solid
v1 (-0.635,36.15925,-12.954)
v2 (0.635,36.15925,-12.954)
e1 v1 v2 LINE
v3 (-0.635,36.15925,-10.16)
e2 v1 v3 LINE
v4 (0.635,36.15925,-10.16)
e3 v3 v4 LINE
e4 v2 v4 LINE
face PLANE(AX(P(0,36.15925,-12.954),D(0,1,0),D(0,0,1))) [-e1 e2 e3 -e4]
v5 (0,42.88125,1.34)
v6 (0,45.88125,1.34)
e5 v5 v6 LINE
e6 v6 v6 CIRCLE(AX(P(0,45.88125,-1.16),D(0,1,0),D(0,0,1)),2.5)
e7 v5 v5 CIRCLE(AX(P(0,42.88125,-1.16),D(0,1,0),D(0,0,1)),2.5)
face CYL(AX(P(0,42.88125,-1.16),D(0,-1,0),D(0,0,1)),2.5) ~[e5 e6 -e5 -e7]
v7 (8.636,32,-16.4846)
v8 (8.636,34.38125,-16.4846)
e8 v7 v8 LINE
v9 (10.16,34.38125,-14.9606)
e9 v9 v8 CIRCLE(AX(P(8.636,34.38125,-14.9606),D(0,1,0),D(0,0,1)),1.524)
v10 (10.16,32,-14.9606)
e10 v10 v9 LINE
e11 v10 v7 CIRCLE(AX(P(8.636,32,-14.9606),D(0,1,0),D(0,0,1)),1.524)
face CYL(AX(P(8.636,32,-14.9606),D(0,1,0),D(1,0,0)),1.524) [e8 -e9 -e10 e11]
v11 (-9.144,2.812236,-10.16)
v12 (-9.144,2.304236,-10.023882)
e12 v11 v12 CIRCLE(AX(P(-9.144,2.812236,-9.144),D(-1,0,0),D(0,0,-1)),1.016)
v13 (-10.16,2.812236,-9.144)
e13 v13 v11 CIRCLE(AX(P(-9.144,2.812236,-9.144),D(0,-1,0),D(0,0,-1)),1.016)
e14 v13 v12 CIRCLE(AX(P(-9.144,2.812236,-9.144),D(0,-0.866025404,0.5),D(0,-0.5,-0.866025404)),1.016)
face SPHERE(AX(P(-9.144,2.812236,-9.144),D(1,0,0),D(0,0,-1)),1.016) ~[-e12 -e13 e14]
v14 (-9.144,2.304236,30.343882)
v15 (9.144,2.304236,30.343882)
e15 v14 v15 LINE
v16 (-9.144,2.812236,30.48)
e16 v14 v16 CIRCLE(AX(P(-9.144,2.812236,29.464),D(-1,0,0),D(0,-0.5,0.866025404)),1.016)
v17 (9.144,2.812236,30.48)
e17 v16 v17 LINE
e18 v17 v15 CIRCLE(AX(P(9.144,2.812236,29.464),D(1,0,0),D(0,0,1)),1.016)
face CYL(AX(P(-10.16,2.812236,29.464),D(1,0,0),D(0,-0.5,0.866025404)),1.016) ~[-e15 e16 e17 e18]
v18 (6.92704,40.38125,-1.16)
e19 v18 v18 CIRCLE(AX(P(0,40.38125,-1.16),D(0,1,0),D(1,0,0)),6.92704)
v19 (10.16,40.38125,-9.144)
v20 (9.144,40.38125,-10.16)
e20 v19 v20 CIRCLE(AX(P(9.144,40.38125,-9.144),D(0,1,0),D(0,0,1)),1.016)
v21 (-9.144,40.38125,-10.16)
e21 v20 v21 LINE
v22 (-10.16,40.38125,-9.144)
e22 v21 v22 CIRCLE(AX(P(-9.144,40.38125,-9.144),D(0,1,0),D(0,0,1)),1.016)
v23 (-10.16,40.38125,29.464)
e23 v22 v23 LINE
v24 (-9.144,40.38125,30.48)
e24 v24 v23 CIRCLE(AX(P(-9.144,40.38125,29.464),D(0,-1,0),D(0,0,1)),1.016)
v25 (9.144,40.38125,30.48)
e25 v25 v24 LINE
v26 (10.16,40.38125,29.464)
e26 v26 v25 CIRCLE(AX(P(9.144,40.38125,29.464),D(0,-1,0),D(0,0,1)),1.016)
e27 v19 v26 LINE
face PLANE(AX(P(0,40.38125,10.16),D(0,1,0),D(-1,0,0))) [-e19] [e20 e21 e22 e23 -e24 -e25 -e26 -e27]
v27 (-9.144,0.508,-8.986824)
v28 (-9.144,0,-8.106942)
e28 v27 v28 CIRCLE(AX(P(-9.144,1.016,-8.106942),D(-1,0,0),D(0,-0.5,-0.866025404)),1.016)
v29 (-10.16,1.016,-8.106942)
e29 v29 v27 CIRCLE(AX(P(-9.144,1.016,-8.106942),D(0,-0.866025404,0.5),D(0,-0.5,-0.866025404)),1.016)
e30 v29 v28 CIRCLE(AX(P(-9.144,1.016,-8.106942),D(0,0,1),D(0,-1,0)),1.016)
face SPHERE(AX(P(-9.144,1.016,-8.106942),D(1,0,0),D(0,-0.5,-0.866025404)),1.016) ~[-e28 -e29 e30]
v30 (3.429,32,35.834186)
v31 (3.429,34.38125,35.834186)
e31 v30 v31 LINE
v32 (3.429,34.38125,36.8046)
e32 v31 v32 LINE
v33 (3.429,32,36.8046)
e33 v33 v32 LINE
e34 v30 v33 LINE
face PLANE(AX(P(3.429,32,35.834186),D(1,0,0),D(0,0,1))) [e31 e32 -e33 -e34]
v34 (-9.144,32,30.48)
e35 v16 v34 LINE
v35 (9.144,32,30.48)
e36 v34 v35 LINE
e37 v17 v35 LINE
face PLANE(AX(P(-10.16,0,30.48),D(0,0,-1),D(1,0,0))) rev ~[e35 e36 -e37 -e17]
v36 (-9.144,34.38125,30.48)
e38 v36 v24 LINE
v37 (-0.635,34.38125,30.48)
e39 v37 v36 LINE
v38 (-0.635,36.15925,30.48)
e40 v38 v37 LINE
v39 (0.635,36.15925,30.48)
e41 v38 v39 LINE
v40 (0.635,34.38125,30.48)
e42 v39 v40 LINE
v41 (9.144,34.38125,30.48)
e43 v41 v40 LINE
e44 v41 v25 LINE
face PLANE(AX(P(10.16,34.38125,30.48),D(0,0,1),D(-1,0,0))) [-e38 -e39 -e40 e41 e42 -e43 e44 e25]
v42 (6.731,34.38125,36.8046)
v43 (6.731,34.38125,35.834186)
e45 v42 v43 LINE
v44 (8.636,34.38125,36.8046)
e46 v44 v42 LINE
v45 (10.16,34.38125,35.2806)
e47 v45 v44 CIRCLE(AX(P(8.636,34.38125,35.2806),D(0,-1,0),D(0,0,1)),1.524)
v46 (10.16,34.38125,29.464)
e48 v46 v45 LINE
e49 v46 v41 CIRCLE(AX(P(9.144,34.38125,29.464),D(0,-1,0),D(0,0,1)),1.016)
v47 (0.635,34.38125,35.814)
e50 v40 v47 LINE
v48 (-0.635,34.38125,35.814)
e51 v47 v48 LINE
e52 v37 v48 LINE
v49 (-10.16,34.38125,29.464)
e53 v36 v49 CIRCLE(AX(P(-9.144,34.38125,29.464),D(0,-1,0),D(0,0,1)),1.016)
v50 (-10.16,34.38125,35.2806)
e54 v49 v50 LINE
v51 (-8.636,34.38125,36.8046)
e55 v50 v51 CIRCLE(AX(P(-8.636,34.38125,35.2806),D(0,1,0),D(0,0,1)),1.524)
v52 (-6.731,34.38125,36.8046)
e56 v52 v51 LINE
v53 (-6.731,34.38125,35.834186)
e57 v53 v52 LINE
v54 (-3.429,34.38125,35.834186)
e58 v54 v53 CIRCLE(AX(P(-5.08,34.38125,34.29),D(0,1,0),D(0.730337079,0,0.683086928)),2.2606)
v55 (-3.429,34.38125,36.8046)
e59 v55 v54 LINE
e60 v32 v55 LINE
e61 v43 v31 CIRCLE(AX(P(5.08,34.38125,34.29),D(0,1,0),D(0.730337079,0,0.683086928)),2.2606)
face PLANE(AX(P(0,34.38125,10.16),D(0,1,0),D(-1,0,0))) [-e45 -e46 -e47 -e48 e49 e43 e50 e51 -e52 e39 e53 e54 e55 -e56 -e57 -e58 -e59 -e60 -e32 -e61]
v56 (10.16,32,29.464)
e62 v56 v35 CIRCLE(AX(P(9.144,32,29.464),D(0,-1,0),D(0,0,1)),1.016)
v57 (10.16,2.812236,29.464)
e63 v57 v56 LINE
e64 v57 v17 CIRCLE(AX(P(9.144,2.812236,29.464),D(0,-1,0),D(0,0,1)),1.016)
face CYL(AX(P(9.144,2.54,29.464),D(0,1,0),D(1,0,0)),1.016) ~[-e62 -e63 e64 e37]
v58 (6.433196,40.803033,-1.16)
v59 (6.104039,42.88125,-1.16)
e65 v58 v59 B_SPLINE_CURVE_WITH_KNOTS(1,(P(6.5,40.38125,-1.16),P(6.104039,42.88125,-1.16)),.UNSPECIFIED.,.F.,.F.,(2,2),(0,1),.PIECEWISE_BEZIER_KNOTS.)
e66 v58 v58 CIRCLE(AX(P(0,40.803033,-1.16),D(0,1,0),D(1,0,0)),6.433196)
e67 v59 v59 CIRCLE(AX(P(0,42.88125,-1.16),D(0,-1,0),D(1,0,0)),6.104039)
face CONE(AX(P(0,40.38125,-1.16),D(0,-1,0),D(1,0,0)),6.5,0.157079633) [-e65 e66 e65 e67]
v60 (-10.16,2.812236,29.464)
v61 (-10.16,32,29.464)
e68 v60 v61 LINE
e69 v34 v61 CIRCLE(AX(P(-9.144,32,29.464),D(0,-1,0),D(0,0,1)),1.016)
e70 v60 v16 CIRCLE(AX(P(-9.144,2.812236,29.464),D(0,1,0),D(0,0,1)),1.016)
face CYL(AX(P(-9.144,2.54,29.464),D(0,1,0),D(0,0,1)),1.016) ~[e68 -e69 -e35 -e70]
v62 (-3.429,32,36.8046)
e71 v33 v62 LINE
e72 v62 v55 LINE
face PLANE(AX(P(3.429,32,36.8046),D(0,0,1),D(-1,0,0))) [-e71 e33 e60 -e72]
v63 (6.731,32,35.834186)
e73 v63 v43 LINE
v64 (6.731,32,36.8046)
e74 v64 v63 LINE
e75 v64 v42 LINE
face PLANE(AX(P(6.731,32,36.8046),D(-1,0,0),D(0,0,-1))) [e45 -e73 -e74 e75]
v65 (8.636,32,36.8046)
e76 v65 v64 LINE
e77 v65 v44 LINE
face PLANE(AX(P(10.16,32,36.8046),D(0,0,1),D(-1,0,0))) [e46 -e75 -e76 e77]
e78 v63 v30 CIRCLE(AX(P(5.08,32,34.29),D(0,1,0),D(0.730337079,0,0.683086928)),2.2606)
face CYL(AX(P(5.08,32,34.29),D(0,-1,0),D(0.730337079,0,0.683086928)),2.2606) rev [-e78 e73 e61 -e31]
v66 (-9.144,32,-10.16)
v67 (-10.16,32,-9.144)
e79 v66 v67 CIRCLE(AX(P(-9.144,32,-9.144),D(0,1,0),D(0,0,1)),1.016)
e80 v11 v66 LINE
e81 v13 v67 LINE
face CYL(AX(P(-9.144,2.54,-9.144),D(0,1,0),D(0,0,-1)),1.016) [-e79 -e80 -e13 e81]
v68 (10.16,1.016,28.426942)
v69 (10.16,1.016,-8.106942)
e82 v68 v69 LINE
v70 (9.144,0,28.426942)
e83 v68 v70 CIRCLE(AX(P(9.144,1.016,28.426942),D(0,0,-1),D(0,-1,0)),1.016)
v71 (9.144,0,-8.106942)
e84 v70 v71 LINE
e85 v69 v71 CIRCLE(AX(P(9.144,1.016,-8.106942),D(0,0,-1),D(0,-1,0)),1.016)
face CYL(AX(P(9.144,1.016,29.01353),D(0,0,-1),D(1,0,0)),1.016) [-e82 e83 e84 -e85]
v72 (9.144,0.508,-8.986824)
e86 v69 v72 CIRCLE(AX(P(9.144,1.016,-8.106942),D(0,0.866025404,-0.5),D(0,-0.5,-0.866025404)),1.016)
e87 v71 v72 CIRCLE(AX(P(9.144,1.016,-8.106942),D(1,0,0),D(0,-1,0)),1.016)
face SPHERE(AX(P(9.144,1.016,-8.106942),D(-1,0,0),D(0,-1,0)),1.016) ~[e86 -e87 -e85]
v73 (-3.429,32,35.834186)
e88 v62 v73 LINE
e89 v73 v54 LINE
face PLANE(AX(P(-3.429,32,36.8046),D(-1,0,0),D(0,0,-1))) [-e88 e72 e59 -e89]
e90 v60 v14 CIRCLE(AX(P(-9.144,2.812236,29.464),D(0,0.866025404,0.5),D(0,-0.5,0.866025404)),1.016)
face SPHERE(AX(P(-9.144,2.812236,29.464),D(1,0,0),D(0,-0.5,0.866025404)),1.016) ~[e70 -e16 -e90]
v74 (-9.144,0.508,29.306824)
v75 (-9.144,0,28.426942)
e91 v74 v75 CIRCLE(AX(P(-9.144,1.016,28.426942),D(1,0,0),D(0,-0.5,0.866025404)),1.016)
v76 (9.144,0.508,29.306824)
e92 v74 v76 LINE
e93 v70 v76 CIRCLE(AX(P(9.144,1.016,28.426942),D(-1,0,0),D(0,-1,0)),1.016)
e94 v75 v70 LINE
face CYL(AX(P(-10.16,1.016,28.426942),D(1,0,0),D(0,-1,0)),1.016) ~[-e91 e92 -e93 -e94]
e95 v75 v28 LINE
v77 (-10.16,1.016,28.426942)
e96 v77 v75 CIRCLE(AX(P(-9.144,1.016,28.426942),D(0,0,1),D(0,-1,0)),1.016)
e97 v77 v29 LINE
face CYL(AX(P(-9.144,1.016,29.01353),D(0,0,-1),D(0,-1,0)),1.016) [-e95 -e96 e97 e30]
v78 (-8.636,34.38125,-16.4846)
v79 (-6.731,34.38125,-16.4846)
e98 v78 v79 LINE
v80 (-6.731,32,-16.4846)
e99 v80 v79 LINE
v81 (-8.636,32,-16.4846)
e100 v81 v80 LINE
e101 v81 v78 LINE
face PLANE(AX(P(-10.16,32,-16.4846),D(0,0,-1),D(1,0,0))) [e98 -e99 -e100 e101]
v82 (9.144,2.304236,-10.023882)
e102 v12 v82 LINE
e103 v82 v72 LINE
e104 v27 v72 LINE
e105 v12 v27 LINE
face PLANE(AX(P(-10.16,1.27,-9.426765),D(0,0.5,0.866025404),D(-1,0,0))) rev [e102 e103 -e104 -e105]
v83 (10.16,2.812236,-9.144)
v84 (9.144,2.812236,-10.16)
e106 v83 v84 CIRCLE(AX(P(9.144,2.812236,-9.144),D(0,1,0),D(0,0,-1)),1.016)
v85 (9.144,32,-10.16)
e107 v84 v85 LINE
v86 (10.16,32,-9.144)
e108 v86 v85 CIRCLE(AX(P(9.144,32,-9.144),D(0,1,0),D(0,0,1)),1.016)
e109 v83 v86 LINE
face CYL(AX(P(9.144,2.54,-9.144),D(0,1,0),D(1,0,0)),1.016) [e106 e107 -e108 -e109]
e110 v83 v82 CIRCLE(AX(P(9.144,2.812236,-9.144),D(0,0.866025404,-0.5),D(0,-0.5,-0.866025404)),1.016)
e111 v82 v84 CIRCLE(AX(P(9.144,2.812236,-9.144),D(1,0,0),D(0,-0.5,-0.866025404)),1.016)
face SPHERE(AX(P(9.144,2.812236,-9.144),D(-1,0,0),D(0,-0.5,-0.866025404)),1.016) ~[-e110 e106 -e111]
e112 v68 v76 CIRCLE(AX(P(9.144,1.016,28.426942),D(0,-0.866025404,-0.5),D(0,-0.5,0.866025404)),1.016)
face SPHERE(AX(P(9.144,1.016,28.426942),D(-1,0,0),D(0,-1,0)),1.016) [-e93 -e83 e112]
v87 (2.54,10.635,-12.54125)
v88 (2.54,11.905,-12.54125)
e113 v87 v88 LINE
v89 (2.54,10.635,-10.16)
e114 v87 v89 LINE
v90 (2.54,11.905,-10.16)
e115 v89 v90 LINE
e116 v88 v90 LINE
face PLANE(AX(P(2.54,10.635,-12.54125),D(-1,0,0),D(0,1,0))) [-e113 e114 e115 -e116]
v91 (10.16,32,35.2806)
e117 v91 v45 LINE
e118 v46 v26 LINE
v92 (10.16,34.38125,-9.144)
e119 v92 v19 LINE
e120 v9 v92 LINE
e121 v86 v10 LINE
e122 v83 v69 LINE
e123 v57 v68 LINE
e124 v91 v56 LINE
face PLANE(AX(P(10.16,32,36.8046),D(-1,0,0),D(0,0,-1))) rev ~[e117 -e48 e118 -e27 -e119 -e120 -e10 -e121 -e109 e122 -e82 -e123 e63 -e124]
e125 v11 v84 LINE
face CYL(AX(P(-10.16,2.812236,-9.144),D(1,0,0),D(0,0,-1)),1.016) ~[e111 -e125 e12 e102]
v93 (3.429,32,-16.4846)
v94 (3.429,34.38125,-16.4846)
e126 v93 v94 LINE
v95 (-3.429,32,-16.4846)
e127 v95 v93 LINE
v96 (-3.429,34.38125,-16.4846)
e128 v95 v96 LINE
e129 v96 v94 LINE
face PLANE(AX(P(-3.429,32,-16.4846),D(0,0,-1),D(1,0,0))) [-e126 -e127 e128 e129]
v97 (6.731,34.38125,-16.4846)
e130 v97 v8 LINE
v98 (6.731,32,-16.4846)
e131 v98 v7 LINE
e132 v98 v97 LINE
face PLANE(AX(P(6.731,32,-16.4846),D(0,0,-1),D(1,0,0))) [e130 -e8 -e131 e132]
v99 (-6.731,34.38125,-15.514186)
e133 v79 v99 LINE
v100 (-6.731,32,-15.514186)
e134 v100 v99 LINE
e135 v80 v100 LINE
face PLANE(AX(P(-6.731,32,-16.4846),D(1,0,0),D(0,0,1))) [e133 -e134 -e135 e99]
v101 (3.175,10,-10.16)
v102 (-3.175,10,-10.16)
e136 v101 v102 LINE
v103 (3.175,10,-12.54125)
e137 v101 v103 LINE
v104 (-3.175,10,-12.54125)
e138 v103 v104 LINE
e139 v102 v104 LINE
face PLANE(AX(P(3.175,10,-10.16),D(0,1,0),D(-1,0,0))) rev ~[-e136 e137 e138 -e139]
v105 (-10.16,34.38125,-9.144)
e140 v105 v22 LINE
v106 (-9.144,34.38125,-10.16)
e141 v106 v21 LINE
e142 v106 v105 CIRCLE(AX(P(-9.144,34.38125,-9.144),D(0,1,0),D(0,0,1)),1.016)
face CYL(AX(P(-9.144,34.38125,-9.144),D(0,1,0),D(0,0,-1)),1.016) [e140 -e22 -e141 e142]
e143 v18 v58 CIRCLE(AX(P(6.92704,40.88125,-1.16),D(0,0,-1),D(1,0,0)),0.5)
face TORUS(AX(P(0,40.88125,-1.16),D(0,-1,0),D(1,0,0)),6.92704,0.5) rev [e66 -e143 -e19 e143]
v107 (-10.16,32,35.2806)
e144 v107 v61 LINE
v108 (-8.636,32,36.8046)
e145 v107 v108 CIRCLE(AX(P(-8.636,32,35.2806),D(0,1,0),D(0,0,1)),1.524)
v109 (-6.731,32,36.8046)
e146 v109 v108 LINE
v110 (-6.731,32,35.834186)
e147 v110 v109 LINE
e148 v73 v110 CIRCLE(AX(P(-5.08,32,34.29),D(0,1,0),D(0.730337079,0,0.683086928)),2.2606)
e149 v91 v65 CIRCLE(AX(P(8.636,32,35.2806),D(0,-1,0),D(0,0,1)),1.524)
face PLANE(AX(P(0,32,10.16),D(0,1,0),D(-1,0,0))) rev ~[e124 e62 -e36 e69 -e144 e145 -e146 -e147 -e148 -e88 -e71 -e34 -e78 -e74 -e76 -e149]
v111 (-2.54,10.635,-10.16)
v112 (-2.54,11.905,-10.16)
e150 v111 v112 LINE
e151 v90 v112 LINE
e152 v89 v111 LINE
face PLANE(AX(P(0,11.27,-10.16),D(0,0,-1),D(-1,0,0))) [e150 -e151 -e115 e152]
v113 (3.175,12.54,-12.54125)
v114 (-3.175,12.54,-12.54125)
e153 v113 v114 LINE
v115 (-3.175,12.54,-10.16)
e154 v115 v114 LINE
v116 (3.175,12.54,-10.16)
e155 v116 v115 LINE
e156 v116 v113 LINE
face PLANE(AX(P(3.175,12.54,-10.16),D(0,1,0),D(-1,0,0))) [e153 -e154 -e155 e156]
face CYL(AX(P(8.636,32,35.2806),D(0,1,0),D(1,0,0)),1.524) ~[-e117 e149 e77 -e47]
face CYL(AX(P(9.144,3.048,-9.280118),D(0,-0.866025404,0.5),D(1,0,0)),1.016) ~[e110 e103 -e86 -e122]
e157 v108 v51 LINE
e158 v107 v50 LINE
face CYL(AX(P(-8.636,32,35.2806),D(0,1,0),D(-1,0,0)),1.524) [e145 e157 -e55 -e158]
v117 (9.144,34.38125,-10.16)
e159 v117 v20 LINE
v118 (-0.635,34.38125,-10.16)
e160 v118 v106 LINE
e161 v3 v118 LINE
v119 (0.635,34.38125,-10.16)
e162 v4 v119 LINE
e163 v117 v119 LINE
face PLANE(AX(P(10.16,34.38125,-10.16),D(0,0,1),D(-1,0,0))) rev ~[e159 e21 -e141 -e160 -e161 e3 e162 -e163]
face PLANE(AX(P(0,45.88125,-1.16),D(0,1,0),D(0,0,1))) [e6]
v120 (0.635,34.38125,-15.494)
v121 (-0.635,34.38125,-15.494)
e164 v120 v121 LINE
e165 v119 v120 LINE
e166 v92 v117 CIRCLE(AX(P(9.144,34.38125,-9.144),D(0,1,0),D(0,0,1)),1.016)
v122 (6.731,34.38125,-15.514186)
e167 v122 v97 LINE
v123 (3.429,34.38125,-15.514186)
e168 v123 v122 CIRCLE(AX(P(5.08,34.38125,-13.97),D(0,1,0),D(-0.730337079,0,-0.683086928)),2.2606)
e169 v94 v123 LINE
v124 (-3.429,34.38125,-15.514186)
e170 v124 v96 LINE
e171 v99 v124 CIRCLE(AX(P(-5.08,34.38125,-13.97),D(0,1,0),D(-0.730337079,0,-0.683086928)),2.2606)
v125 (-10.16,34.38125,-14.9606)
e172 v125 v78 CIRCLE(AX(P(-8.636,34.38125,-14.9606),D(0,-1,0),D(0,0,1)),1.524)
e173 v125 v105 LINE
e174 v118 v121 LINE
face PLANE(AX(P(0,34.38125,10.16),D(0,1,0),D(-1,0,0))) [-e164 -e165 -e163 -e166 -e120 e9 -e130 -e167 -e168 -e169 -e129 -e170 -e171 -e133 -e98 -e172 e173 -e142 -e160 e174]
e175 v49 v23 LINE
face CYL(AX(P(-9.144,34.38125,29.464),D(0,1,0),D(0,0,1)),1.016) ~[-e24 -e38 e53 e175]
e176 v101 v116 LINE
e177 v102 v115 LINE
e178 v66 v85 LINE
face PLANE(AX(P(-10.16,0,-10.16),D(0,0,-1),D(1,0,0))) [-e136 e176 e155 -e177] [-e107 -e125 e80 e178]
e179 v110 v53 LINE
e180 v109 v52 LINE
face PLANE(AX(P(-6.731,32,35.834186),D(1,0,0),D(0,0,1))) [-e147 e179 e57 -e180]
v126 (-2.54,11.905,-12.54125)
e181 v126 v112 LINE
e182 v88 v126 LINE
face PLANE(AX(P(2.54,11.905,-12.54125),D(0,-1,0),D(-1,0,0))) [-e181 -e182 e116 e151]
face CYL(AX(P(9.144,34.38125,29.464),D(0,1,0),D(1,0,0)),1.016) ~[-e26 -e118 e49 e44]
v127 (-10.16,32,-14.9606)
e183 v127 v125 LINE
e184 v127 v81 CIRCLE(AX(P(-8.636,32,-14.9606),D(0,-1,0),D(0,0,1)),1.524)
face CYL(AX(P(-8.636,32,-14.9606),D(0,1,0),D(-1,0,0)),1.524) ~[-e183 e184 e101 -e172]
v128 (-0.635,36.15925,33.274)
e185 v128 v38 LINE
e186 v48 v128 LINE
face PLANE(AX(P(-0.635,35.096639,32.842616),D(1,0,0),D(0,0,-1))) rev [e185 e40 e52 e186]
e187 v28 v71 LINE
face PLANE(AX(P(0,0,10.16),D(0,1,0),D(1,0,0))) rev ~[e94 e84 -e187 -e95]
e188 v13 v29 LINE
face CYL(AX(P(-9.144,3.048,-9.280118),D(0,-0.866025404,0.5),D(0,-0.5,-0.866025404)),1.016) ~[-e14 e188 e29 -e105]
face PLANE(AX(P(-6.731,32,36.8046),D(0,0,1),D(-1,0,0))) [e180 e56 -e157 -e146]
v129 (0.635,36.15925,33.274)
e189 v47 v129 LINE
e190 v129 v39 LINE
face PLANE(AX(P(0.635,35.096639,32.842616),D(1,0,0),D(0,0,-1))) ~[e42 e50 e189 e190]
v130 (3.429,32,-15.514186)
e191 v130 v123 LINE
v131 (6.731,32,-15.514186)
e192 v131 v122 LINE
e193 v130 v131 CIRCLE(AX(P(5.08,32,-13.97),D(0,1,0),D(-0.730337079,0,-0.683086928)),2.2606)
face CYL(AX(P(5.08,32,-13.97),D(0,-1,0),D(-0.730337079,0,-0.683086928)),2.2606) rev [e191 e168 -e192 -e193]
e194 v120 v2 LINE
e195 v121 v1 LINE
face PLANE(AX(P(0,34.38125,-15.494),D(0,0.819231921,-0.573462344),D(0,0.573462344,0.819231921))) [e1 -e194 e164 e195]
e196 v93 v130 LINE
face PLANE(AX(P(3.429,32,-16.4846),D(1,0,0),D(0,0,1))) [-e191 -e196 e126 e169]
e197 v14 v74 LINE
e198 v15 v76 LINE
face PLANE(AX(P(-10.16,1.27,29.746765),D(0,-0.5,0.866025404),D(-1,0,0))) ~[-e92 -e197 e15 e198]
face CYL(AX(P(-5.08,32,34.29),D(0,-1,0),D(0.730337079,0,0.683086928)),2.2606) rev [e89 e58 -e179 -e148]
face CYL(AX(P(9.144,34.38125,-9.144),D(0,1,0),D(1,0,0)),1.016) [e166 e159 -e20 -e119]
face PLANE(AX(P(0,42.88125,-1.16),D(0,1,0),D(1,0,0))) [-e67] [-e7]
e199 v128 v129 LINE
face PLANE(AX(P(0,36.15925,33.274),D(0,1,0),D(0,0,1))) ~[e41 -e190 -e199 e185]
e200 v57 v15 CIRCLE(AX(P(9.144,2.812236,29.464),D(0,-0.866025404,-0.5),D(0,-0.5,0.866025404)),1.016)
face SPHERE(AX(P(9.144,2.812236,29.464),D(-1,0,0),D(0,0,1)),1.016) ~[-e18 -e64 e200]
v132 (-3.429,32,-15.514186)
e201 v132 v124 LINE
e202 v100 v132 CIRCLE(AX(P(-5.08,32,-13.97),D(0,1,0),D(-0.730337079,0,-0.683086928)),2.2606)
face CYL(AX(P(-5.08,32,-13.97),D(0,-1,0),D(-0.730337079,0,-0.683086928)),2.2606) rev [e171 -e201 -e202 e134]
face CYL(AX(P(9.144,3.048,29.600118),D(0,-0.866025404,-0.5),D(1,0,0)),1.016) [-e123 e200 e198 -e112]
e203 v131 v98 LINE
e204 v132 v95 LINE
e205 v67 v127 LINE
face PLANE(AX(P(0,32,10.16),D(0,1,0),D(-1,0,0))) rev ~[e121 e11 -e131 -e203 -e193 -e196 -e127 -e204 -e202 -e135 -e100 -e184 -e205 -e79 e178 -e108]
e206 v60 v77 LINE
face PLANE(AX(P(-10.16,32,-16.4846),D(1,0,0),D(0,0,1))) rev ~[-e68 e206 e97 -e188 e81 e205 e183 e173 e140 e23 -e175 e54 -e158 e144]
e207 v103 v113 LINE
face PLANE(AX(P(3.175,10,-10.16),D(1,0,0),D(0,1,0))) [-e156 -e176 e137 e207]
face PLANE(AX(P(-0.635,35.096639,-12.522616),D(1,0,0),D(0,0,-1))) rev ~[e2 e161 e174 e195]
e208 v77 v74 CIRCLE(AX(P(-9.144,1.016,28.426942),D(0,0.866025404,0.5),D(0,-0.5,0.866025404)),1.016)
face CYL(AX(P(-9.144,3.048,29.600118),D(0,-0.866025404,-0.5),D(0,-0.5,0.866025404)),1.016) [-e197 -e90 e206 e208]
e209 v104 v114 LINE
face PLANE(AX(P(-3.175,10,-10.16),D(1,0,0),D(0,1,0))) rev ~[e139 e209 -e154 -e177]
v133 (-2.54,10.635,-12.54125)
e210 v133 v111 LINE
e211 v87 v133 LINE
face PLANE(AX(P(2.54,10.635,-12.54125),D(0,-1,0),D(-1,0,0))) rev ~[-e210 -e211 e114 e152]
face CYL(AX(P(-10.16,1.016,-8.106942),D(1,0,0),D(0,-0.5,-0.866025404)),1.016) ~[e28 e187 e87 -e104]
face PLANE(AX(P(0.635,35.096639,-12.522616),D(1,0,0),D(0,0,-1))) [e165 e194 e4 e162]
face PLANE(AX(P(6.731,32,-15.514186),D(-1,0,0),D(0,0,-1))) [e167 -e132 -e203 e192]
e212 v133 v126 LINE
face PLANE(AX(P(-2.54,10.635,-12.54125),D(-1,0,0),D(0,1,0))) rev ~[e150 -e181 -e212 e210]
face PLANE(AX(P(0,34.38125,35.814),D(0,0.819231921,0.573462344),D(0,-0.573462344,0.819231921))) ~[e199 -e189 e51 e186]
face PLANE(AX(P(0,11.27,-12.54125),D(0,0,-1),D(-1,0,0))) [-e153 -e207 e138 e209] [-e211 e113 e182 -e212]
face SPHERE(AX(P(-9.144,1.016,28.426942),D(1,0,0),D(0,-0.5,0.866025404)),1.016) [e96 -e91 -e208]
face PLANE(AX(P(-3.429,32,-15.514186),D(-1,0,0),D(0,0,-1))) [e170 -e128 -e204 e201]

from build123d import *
from OCP.BRepFilletAPI import BRepFilletAPI_MakeChamfer

# Parameters (mm, degrees)
SKETCH1_W          = 20.32
SKETCH1_H          = 40.64
EXTRUDE1_DEPTH     = 32
SKETCH2_W          = 20.32
SKETCH2_H          = 40.64
EXTRUDE2_DEPTH     = 2.38125
SKETCH3_W          = 20.32
SKETCH3_H          = 40.64
EXTRUDE3_DEPTH     = 6
EXTRUDE6_DEPTH     = 0.635
CHAMFER2_SIZE      = 2.54
CHAMFER2_SIZE2     = 1.466469684
FILLET1_R          = 1.016
FILLET2_R          = 1.524
SKETCH9_W          = 6.35
SKETCH9_H          = 2.54
EXTRUDE8_DEPTH     = 2.38125
SKETCH10_W         = 5.08
SKETCH10_H         = 1.27
CUT_EXTRUDE1_DEPTH = 2.38125
SKETCH_1_R         = 6.5
EXTRUDE_1_DEPTH    = 2.5
EXTRUDE_1_TAPER    = 9
FILLET_1_R         = 0.5
SKETCH_2_R         = 2.5
EXTRUDE_2_DEPTH    = 3


with BuildPart() as part:
    # Sketch1 → Extrude1 (new body)
    with BuildSketch(Plane(origin=(0, 0, 0), x_dir=(1, 0, 0), z_dir=(0, 1, 0))):
        with Locations((0, -10.16)):
            Rectangle(SKETCH1_W, SKETCH1_H)
    extrude(amount=EXTRUDE1_DEPTH)

    # Sketch2 → Extrude2 (add)
    with BuildSketch(Plane(origin=(0, 32, 0), x_dir=(-1, 0, 0), z_dir=(0, 1, 0))):
        with Locations((0, 10.16)):
            Rectangle(SKETCH2_W, SKETCH2_H)
        with BuildLine():
            ThreePointArc((6.731, -15.51418631), (5.08, -11.7094), (3.429, -15.51418631))
            Line((3.429, -15.51418631), (3.429, -16.4846))
            Line((3.429, -16.4846), (-3.429, -16.4846))
            Line((-3.429, -16.4846), (-3.429, -15.51418631))
            ThreePointArc((-3.429, -15.51418631), (-5.08, -11.7094), (-6.731, -15.51418631))
            Line((-6.731, -15.51418631), (-6.731, -16.4846))
            Line((-6.731, -16.4846), (-10.16, -16.4846))
            Line((-10.16, -16.4846), (-10.16, -10.16))
            Line((-10.16, -10.16), (10.16, -10.16))
            Line((10.16, -10.16), (10.16, -16.4846))
            Line((10.16, -16.4846), (6.731, -16.4846))
            Line((6.731, -16.4846), (6.731, -15.51418631))
        make_face()
        with BuildLine():
            ThreePointArc((-6.731, 35.83418631), (-5.08, 32.0294), (-3.429, 35.83418631))
            Line((-3.429, 35.83418631), (-3.429, 36.8046))
            Line((-3.429, 36.8046), (3.429, 36.8046))
            Line((3.429, 36.8046), (3.429, 35.83418631))
            ThreePointArc((3.429, 35.83418631), (5.08, 32.0294), (6.731, 35.83418631))
            Line((6.731, 35.83418631), (6.731, 36.8046))
            Line((6.731, 36.8046), (10.16, 36.8046))
            Line((10.16, 36.8046), (10.16, 30.48))
            Line((10.16, 30.48), (-10.16, 30.48))
            Line((-10.16, 30.48), (-10.16, 36.8046))
            Line((-10.16, 36.8046), (-6.731, 36.8046))
            Line((-6.731, 36.8046), (-6.731, 35.83418631))
        make_face()
    extrude(amount=EXTRUDE2_DEPTH)

    # Sketch3 → Extrude3 (add)
    with BuildSketch(Plane(origin=(0, 34.38125, 0), x_dir=(-1, 0, 0), z_dir=(0, 1, 0))):
        with Locations((0, 10.16)):
            Rectangle(SKETCH3_W, SKETCH3_H)
    extrude(amount=EXTRUDE3_DEPTH)

    # Sketch7 → Extrude6 (add, symmetric)
    with BuildSketch(Plane(origin=(0, 0, 0), x_dir=(0, 0, -1), z_dir=(1, 0, 0))):
        Polygon((15.494, 34.38125), (12.954, 36.15925), (10.16, 36.15925), (10.16, 34.38125), align=None)
    extrude6 = extrude(amount=EXTRUDE6_DEPTH, both=True)

    # Mirror1: Extrude6 across plane
    add(extrude6.mirror(Plane(origin=(0, 0, 10.16), x_dir=(1, 0, 0), z_dir=(0, 0, -1))))

    # Chamfer2: one chamfer whose edges measure the first distance from different faces: ONE call of the kernel's chamfer builder (chamfer() names one face for all edges)
    chamfer2_edges_1 = [part.edges().sort_by_distance(p)[0] for p in [
        (0, 0, -10.16),
    ]]
    chamfer2_side_1 = [part.faces().sort_by_distance(p)[0] for p in [
        (0, 16, -10.16),
    ]]
    chamfer2_edges_2 = [part.edges().sort_by_distance(p)[0] for p in [
        (0, 0, 30.48),
    ]]
    chamfer2_side_2 = [part.faces().sort_by_distance(p)[0] for p in [
        (0, 16, 30.48),
    ]]
    chamfer2 = BRepFilletAPI_MakeChamfer(part.part.solid().wrapped)
    for e in chamfer2_edges_1:
        chamfer2.Add(CHAMFER2_SIZE, CHAMFER2_SIZE2, e.wrapped, chamfer2_side_1[0].wrapped)  # the first distance lies on this face
    for e in chamfer2_edges_2:
        chamfer2.Add(CHAMFER2_SIZE, CHAMFER2_SIZE2, e.wrapped, chamfer2_side_2[0].wrapped)  # the first distance lies on this face
    add(Compound.cast(chamfer2.Shape()), mode=Mode.REPLACE)

    # Fillet1
    fillet1_edges = [part.edges().sort_by_distance(p)[0] for p in [
        (-10.16, 37.38125, -10.16),
        (10.16, 37.38125, -10.16),
        (10.16, 37.38125, 30.48),
        (10.16, 0, 10.16),
        (10.16, 1.27, -9.426765158),
        (10.16, 17.27, -10.16),
        (0, 0, -8.693530316),
        (0, 2.54, -10.16),
        (-10.16, 17.27, -10.16),
        (-10.16, 1.27, -9.426765158),
        (10.16, 17.27, 30.48),
        (10.16, 1.27, 29.746765158),
        (0, 2.54, 30.48),
        (-10.16, 0, 10.16),
        (0, 0, 29.013530316),
        (-10.16, 1.27, 29.746765158),
        (-10.16, 17.27, 30.48),
        (-10.16, 37.38125, 30.48),
    ]]
    fillet(fillet1_edges, radius=FILLET1_R)

    # Fillet2
    fillet2_edges = [part.edges().sort_by_distance(p)[0] for p in [
        (-10.16, 33.190625, 36.8046),
        (10.16, 33.190625, 36.8046),
        (-10.16, 33.190625, -16.4846),
        (10.16, 33.190625, -16.4846),
    ]]
    fillet(fillet2_edges, radius=FILLET2_R)

    # Sketch9 → Extrude8 (add)
    with BuildSketch(Plane(origin=(0, 0, -10.16), x_dir=(-1, 0, 0), z_dir=(0, 0, -1))):
        with Locations((0, 11.27)):
            Rectangle(SKETCH9_W, SKETCH9_H)
    extrude(amount=EXTRUDE8_DEPTH)

    # Sketch10 → Cut-Extrude1 (cut)
    with BuildSketch(Plane(origin=(0, 0, -12.54125), x_dir=(-1, 0, 0), z_dir=(0, 0, -1))):
        with Locations((0, 11.27)):
            Rectangle(SKETCH10_W, SKETCH10_H)
    extrude(amount=-CUT_EXTRUDE1_DEPTH, mode=Mode.SUBTRACT)

    # Эскиз1 → Вытянуть1 (add)
    with BuildSketch(Plane(origin=(0, 40.38125, 0), x_dir=(1, 0, 0), z_dir=(0, 1, 0))):
        with Locations((0, 1.16)):
            Circle(SKETCH_1_R)
    extrude(amount=EXTRUDE_1_DEPTH, taper=EXTRUDE_1_TAPER)

    # Скругление1
    fillet_1_edges = [part.edges().sort_by_distance(p)[0] for p in [
        (-6.5, 40.38125, -1.16),
    ]]
    fillet(fillet_1_edges, radius=FILLET_1_R)

    # Эскиз2 → Вытянуть2 (add)
    with BuildSketch(Plane(origin=(0, 42.88125, 0), x_dir=(1, 0, 0), z_dir=(0, 1, 0))):
        with Locations(Location((0, 1.16, 0), (0, 0, 270))):
            Circle(SKETCH_2_R)
    extrude(amount=EXTRUDE_2_DEPTH)


solid = part.part
